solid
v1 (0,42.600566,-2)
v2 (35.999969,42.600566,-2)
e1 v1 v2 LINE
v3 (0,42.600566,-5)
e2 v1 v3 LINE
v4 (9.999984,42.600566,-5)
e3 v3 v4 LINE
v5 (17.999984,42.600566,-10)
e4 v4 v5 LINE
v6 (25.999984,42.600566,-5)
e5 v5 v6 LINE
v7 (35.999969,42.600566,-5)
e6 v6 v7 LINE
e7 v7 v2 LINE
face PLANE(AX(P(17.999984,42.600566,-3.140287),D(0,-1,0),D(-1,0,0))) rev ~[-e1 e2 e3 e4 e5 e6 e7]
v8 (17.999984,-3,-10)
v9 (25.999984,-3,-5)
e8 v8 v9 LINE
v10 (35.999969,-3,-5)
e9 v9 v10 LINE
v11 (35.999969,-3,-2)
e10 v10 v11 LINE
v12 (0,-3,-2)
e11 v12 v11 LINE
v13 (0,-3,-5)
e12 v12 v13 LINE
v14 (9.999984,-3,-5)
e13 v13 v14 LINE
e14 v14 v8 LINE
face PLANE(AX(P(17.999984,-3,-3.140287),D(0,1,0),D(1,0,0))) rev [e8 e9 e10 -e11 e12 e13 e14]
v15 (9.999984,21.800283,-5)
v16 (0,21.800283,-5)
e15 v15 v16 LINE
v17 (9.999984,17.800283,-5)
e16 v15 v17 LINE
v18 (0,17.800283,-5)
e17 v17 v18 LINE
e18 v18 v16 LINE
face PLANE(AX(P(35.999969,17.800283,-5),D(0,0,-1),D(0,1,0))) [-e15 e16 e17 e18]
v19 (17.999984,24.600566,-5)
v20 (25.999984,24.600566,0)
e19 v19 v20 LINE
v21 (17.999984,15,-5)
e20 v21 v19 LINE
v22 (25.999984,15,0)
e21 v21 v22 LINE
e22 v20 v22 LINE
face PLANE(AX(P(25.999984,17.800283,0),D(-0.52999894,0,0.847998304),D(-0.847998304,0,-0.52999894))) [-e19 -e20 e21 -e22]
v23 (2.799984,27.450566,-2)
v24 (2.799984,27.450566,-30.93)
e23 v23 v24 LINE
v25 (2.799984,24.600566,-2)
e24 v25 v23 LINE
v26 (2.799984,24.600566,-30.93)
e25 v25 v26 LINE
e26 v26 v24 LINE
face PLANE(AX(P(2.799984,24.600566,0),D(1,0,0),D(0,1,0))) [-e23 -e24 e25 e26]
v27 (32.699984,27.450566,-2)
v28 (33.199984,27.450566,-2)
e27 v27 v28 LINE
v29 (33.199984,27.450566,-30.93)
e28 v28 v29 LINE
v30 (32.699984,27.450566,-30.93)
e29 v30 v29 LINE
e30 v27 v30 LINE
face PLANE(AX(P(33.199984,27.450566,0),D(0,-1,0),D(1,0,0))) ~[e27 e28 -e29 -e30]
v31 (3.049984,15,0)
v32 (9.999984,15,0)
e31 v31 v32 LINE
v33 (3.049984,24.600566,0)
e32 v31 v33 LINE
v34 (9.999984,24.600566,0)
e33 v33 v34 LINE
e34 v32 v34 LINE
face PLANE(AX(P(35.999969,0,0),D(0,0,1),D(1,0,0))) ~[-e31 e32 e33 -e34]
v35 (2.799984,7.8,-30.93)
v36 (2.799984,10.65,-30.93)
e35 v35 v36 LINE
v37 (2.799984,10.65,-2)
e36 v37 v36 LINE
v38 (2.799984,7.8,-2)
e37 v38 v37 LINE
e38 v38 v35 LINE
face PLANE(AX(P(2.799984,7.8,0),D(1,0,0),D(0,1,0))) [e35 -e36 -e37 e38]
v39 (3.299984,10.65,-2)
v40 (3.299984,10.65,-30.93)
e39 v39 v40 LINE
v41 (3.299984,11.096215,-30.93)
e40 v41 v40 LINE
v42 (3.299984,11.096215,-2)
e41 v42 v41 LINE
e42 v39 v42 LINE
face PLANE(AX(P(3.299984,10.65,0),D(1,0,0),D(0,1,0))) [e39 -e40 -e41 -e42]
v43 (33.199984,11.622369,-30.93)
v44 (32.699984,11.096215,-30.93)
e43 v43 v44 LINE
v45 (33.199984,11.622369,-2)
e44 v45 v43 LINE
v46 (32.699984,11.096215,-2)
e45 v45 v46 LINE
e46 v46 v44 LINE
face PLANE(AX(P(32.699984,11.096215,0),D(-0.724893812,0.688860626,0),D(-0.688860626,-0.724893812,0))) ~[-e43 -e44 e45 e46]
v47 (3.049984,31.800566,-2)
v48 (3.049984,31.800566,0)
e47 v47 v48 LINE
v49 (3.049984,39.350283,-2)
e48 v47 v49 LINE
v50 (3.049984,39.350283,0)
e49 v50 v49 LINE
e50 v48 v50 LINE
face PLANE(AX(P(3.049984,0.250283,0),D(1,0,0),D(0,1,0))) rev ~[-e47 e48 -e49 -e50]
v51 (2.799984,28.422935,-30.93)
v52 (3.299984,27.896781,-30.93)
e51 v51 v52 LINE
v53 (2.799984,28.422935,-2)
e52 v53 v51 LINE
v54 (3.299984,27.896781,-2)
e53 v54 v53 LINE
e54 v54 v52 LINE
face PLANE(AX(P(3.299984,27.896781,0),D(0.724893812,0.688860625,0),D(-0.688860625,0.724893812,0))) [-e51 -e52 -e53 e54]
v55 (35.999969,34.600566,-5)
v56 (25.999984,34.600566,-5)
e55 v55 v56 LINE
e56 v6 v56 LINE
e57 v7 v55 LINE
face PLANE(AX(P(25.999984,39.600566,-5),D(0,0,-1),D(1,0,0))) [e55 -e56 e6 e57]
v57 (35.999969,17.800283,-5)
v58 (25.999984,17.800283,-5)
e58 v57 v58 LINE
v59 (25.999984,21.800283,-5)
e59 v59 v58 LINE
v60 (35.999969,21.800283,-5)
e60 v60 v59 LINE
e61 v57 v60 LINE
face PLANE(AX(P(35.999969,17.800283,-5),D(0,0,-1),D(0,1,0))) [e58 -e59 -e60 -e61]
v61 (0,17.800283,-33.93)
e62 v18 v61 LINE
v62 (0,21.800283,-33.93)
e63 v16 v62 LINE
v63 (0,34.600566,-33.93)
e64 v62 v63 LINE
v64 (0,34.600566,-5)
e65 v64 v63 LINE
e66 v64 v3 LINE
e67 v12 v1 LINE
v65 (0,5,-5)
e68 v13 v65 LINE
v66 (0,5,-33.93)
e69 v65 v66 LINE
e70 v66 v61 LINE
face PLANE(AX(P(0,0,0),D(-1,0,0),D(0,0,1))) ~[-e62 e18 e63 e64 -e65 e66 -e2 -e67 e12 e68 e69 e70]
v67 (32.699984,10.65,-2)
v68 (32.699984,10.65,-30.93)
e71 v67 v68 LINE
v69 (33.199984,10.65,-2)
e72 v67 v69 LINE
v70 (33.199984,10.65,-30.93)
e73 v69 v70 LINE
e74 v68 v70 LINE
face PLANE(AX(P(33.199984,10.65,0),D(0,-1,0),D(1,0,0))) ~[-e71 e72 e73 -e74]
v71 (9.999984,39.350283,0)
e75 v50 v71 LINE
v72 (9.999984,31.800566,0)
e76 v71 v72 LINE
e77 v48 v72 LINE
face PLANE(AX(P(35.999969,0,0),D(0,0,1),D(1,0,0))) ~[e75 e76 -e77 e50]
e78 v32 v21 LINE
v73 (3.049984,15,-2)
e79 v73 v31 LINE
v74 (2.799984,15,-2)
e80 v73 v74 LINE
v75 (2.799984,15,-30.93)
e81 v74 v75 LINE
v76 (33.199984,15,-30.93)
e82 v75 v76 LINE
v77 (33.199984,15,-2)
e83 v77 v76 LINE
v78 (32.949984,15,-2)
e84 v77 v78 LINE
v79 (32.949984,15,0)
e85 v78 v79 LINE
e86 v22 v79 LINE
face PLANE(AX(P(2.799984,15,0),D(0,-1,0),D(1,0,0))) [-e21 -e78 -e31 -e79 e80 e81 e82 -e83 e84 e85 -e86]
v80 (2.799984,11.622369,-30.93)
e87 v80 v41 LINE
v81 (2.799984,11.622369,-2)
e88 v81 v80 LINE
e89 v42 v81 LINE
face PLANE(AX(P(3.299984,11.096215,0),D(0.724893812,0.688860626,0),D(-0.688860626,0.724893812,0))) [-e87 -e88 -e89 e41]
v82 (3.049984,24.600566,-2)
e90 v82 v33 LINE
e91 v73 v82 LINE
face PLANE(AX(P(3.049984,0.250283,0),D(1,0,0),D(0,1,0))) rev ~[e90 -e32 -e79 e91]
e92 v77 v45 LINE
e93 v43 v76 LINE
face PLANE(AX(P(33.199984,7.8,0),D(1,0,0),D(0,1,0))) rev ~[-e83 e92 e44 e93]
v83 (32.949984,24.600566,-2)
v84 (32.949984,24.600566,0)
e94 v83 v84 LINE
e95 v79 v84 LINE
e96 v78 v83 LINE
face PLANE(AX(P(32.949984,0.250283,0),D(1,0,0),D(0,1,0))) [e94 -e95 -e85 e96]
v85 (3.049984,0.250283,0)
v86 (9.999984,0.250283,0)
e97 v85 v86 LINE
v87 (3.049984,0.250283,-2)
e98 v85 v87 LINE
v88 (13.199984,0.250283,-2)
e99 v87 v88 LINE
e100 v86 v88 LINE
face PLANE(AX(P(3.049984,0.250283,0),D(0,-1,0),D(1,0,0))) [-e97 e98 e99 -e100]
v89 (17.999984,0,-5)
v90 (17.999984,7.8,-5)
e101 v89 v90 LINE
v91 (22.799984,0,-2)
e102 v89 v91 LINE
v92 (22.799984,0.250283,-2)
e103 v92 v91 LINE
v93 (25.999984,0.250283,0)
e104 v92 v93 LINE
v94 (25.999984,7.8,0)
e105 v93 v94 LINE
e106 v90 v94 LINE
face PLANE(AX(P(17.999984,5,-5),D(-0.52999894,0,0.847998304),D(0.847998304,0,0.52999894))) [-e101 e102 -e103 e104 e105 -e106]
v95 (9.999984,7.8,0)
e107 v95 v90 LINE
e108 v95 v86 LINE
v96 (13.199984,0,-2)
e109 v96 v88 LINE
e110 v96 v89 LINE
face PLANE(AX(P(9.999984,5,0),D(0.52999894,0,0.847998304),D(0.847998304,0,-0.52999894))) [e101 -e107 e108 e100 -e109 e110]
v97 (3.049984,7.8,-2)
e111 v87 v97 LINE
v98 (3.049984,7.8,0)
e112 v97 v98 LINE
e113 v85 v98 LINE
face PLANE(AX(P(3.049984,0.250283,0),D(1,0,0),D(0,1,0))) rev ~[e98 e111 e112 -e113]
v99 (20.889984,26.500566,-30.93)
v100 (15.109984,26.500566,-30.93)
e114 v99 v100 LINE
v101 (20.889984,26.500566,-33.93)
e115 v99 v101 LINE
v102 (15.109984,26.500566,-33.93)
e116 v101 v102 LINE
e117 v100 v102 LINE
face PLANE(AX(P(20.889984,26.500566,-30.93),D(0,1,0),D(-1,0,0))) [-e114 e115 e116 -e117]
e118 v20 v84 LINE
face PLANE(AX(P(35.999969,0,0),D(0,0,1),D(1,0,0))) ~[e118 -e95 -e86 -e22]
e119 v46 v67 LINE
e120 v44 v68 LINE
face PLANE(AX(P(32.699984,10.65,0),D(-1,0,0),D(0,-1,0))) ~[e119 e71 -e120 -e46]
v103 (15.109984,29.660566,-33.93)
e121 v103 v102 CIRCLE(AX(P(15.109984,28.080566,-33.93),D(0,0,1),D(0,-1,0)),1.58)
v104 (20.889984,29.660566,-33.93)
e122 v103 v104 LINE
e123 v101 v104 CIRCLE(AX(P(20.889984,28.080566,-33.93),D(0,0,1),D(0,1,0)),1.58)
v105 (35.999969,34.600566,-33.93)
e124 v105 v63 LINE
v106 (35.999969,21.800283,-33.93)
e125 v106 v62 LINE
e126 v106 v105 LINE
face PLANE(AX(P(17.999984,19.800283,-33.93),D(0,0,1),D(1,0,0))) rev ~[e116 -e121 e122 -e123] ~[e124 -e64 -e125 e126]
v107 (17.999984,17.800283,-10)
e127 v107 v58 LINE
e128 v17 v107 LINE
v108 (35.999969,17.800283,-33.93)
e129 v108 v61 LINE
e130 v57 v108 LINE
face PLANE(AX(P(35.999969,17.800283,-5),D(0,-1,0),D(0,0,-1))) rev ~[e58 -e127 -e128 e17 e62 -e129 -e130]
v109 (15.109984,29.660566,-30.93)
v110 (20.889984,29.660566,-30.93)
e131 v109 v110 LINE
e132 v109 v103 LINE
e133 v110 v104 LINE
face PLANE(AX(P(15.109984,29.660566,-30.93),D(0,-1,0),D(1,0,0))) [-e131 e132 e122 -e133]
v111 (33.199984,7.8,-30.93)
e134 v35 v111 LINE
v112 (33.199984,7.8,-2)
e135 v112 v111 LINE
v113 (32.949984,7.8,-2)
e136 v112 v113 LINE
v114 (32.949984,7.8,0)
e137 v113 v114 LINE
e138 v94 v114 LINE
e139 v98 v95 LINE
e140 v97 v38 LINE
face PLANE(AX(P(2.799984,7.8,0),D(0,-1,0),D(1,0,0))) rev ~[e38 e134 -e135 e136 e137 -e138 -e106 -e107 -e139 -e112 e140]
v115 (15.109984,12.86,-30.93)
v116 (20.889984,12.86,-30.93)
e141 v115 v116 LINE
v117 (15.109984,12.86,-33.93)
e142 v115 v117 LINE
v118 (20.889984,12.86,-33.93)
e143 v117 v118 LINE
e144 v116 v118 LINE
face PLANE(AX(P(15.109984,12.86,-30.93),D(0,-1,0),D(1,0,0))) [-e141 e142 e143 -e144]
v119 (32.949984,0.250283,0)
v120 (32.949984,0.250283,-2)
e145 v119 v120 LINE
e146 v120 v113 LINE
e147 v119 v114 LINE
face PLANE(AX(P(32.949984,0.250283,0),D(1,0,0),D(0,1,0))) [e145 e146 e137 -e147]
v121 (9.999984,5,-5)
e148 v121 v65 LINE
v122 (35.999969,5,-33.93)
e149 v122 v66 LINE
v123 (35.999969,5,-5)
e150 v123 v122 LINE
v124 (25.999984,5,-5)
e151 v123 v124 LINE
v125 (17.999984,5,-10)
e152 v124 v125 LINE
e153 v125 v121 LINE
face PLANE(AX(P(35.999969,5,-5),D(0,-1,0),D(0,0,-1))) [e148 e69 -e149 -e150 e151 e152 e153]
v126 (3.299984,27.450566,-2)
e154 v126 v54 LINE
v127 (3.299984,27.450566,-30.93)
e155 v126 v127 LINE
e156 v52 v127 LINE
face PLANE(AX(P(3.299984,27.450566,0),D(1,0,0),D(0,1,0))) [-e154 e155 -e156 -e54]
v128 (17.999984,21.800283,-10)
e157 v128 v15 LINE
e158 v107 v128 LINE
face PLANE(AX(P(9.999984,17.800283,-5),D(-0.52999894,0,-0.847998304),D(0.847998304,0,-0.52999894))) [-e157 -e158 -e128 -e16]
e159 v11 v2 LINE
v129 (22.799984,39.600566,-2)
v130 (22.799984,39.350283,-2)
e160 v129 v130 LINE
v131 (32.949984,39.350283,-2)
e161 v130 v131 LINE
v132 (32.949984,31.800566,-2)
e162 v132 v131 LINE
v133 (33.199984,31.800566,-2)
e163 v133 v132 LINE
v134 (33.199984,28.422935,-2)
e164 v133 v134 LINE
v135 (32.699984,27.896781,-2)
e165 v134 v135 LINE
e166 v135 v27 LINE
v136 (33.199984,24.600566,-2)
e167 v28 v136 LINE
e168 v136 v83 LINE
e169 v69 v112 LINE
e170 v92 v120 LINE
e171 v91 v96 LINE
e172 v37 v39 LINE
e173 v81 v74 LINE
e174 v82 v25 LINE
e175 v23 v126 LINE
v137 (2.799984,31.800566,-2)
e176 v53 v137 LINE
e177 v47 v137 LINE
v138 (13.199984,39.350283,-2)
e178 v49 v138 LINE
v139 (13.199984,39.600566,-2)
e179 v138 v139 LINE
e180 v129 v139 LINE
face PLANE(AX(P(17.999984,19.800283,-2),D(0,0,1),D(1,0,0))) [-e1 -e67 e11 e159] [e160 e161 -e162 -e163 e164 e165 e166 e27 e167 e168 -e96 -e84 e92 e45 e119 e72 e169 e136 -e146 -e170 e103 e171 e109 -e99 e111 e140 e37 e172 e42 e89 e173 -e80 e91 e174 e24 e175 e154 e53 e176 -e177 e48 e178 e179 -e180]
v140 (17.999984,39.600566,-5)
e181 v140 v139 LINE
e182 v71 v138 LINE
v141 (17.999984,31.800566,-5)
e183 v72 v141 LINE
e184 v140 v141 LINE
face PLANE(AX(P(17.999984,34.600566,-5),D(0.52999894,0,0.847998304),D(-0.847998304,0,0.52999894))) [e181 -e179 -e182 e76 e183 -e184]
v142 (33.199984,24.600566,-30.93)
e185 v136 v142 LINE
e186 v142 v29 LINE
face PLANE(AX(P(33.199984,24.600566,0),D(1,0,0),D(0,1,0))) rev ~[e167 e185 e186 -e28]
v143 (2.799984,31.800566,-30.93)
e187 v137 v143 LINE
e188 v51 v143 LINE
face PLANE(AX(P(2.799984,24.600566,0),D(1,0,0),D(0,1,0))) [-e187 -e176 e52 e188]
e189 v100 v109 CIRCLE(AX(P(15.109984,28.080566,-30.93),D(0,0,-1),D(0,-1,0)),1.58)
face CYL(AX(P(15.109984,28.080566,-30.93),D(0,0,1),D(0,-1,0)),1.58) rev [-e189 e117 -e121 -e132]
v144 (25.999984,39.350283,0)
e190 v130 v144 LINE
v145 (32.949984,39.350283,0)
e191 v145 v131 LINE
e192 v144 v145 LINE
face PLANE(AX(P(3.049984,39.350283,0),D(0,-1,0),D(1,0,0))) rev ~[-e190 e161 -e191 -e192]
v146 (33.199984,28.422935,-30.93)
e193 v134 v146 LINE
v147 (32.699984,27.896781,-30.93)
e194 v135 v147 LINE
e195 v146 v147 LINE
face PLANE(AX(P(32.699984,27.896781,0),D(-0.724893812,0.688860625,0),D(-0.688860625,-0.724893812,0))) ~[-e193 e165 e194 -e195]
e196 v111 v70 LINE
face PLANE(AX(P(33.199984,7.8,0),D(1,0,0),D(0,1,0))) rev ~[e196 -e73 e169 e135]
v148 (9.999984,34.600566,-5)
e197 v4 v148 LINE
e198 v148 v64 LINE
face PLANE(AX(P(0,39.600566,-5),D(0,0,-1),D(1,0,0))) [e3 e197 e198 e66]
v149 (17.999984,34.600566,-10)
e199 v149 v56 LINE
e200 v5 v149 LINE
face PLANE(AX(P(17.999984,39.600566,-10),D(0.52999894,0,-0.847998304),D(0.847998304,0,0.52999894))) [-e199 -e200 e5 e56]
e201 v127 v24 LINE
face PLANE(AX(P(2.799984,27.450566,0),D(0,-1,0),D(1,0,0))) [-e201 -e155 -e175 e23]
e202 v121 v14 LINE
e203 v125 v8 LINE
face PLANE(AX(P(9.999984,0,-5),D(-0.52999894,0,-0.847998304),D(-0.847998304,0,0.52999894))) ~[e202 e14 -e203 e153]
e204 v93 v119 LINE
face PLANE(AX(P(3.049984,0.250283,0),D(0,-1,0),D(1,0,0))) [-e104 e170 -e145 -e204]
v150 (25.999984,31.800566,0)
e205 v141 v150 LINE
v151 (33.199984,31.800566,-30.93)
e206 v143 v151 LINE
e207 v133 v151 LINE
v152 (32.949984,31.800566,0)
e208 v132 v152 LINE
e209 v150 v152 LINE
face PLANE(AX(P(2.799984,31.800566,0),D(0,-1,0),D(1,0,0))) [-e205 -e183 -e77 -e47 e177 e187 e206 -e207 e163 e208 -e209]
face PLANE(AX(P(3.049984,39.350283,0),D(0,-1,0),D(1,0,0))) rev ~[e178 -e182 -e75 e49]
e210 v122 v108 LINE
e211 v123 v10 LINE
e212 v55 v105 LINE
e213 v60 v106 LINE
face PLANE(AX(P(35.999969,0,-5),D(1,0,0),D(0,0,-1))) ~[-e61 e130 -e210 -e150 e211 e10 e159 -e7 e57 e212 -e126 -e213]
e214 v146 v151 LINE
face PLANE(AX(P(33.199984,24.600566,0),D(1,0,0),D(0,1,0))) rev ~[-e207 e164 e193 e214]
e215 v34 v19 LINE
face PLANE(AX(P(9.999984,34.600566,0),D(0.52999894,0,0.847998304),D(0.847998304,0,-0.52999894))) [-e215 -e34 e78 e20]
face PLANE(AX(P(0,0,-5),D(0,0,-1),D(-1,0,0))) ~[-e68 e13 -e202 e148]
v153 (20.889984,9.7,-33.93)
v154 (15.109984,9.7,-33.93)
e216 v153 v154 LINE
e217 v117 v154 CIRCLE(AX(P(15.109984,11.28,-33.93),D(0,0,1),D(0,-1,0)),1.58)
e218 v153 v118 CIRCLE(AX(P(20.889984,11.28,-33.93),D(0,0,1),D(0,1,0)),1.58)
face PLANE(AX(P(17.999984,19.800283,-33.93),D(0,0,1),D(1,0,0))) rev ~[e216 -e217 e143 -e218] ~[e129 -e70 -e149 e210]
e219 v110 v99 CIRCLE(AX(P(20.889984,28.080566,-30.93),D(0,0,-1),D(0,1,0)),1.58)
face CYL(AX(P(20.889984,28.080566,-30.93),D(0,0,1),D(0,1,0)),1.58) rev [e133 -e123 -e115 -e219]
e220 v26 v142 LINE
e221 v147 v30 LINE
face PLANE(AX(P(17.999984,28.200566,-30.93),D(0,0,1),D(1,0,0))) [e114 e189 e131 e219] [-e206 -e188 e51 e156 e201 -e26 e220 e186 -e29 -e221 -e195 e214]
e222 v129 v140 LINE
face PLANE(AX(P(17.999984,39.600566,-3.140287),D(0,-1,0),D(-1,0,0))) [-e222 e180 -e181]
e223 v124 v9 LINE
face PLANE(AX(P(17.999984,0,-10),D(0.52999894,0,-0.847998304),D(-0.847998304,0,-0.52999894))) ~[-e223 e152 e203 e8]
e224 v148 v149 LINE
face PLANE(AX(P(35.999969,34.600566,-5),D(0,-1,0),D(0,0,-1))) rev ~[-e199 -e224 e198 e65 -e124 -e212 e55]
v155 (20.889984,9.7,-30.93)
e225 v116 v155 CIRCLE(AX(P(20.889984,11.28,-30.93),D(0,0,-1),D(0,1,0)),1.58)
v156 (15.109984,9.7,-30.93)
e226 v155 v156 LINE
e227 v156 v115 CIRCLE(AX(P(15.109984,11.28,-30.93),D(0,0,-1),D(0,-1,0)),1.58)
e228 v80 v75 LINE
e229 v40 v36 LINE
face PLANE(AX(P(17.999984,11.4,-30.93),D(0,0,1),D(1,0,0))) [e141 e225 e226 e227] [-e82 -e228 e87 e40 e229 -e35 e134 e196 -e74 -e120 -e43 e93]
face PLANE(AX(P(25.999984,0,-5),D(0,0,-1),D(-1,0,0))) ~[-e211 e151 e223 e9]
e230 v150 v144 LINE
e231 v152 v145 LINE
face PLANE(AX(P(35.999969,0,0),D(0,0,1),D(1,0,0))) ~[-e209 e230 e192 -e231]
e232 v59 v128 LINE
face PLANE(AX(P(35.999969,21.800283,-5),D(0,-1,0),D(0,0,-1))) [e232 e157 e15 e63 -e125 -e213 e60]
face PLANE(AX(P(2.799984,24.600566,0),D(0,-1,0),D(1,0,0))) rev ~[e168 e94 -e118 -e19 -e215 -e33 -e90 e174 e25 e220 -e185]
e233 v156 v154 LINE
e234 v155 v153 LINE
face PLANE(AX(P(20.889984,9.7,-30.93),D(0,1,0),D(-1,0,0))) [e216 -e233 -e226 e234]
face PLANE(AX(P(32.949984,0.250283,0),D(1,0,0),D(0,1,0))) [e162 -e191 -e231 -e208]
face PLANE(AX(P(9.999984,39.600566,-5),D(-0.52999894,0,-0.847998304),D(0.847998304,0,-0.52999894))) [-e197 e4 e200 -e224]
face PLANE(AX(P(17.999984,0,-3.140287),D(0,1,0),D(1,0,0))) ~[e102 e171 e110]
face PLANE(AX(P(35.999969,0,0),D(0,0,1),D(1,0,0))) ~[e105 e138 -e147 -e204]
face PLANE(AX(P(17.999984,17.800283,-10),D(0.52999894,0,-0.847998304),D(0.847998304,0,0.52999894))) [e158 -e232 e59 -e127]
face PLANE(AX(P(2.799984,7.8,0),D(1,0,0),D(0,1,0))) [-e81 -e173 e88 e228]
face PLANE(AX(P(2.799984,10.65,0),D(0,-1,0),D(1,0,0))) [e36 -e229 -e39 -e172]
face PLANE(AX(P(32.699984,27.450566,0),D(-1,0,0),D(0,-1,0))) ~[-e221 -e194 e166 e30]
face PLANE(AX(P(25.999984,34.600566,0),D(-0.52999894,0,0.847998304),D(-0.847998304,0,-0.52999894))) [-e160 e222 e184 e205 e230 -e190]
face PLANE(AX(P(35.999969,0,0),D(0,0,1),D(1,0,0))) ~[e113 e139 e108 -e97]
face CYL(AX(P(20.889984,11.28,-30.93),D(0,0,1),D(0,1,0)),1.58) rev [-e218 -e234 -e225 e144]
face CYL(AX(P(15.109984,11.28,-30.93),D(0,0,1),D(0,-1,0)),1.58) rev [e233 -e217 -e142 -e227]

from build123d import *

# Parameters (mm, degrees)
SKETCH1_W           = 35.999968648
SKETCH1_H           = 39.60056603
BOSS_EXTRUDE1_DEPTH = 33.93
SKETCH2_W           = 28.93
SKETCH2_H           = 5
SKETCH2_H_2         = 4
CUT_EXTRUDE1_DEPTH  = 64.367558518
SKETCH3_W           = 16
SKETCH3_H           = 5
SKETCH3_H_2         = 4
CUT_EXTRUDE2_DEPTH  = 64.367558518
CUT_EXTRUDE3_DEPTH  = 61.369212453
SKETCH5_W           = 30.4
SKETCH5_H           = 7.2
CUT_EXTRUDE4_DEPTH  = 30.93
CUT_EXTRUDE5_DEPTH  = 62.813165851
BOSS_EXTRUDE2_REACH = 65.368
BOSS_EXTRUDE3_DEPTH = 5
BOSS_EXTRUDE4_REACH = 56.06
BOSS_EXTRUDE5_DEPTH = 5
BOSS_EXTRUDE6_DEPTH = 3
SKETCH12_W          = 35.999968648
SKETCH12_H          = 45.60056603
CUT_EXTRUDE6_DEPTH  = 2
SKETCH13_W          = 30.4
SKETCH13_H          = 39.6
SKETCH13_W_2        = 29.9
SKETCH13_H_2        = 39.1
CUT_EXTRUDE7_DEPTH  = 2


with BuildPart() as part:
    # Sketch1 → Boss-Extrude1 (new body)
    with BuildSketch(Plane.XY):
        with Locations((17.999984324, 19.800283015)):
            Rectangle(SKETCH1_W, SKETCH1_H)
    extrude(amount=-BOSS_EXTRUDE1_DEPTH)

    # Sketch2 → Cut-Extrude1 (cut, through all)
    with BuildSketch(Plane(origin=(35.999968648, 0, 0), x_dir=(0, 0, -1), z_dir=(1, 0, 0))):
        with Locations((19.465, 37.10056603)):
            Rectangle(SKETCH2_W, SKETCH2_H)
        with Locations((19.465, 19.800283015)):
            Rectangle(SKETCH2_W, SKETCH2_H_2)
        with Locations((19.465, 2.5)):
            Rectangle(SKETCH2_W, SKETCH2_H)
    extrude(amount=-CUT_EXTRUDE1_DEPTH, mode=Mode.SUBTRACT)

    # Sketch3 → Cut-Extrude2 (cut, through all)
    with BuildSketch(Plane.XY):
        with Locations((17.999984324, 37.10056603)):
            Rectangle(SKETCH3_W, SKETCH3_H)
        with Locations((17.999984324, 19.800283015)):
            Rectangle(SKETCH3_W, SKETCH3_H_2)
        with Locations((17.999984324, 2.5)):
            Rectangle(SKETCH3_W, SKETCH3_H)
    extrude(amount=-CUT_EXTRUDE2_DEPTH, mode=Mode.SUBTRACT)

    # Sketch4 → Cut-Extrude3 (cut, through all)
    with BuildSketch(Plane(origin=(0, 34.60056603, 0), x_dir=(1, 0, 0), z_dir=(0, 1, 0))):
        Polygon((9.999984324, 0), (17.999984324, 5), (25.999984324, 0), align=None)
    extrude(amount=-CUT_EXTRUDE3_DEPTH, mode=Mode.SUBTRACT)

    # Sketch5 → Cut-Extrude4 (cut)
    with BuildSketch(Plane.XY):
        with Locations((17.999984324, 11.4)):
            Rectangle(SKETCH5_W, SKETCH5_H)
        with Locations((17.999984324, 28.20056603)):
            Rectangle(SKETCH5_W, SKETCH5_H)
    extrude(amount=-CUT_EXTRUDE4_DEPTH, mode=Mode.SUBTRACT)

    # Sketch6 → Cut-Extrude5 (cut, through all)
    with BuildSketch(Plane.XY.offset(-30.93)):
        with BuildLine():
            Line((15.109984324, 29.66056603), (20.889984324, 29.66056603))
            ThreePointArc((20.889984324, 29.66056603), (22.469984324, 28.08056603), (20.889984324, 26.50056603))
            Line((20.889984324, 26.50056603), (15.109984324, 26.50056603))
            ThreePointArc((15.109984324, 26.50056603), (13.529984324, 28.08056603), (15.109984324, 29.66056603))
        make_face()
        with BuildLine():
            Line((15.109984324, 12.86), (20.889984324, 12.86))
            ThreePointArc((20.889984324, 12.86), (22.469984324, 11.28), (20.889984324, 9.7))
            Line((20.889984324, 9.7), (15.109984324, 9.7))
            ThreePointArc((15.109984324, 9.7), (13.529984324, 11.28), (15.109984324, 12.86))
        make_face()
    extrude(amount=-CUT_EXTRUDE5_DEPTH, mode=Mode.SUBTRACT)

    # Sketch7 → Boss-Extrude2 (add, up to next)
    with BuildSketch(Plane.XY, mode=Mode.PRIVATE) as boss_extrude2_sk1:
        Polygon((2.799984324, 28.422935376), (2.799984324, 27.45056603), (3.299984324, 27.45056603), (3.299984324, 27.896781183), align=None)
    boss_extrude2_tool1 = extrude(boss_extrude2_sk1.sketch, amount=-BOSS_EXTRUDE2_REACH, mode=Mode.PRIVATE) - part.part
    # Sketch7 → Boss-Extrude2 (add, up to next)
    with BuildSketch(Plane.XY, mode=Mode.PRIVATE) as boss_extrude2_sk2:
        Polygon((2.799984324, 11.622369346), (2.799984324, 10.65), (3.299984324, 10.65), (3.299984324, 11.096215154), align=None)
    boss_extrude2_tool2 = extrude(boss_extrude2_sk2.sketch, amount=-BOSS_EXTRUDE2_REACH, mode=Mode.PRIVATE) - part.part
    boss_extrude2_1 = boss_extrude2_tool1.solids().sort_by_distance((3.019076, 27.821475, 0))[0]
    add(boss_extrude2_1)
    boss_extrude2_2 = boss_extrude2_tool2.solids().sort_by_distance((3.019076, 11.020909, 0))[0]
    add(boss_extrude2_2)
    boss_extrude2 = boss_extrude2_1 + boss_extrude2_2  # Boss-Extrude2 as one shape, for the pattern or mirror that repeats it

    # Mirror1: Boss-Extrude2 across plane
    add(boss_extrude2.mirror(Plane(origin=(17.999984324, 0, 0), x_dir=(0, 0, 1), z_dir=(1, 0, 0))))

    # Sketch8 → Boss-Extrude3 (add)
    with BuildSketch(Plane(origin=(0, 34.60056603, 0), x_dir=(1, 0, 0), z_dir=(0, 1, 0))):
        Polygon((9.999984324, 5), (17.999984324, 10), (25.999984324, 5), (25.999984324, 0), (17.999984324, 5), (9.999984324, 0), align=None)
    extrude(amount=BOSS_EXTRUDE3_DEPTH)

    # Sketch9 → Boss-Extrude4 (add, up to next)
    with BuildSketch(Plane(origin=(0, 17.800283015, 0), x_dir=(1, 0, 0), z_dir=(0, 1, 0)), mode=Mode.PRIVATE) as boss_extrude4_sk1:
        Polygon((9.999984324, 5), (17.999984324, 10), (25.999984324, 5), (25.999984324, 0), (17.999984324, 5), (9.999984324, 0), align=None)
    boss_extrude4_tool1 = extrude(boss_extrude4_sk1.sketch, amount=BOSS_EXTRUDE4_REACH, mode=Mode.PRIVATE) - part.part
    add(boss_extrude4_tool1.solids().sort_by_distance((14.099984, 17.800283, -7.34))[0])

    # Sketch10 → Boss-Extrude5 (add)
    with BuildSketch(Plane.XZ.offset(-5)):
        Polygon((9.999984324, 0), (17.999984324, -5), (25.999984324, 0), (25.999984324, -5), (17.999984324, -10), (9.999984324, -5), align=None)
    extrude(amount=BOSS_EXTRUDE5_DEPTH)

    # Sketch11 → Boss-Extrude6 (add)
    with BuildSketch(Plane(origin=(0, 39.60056603, 0), x_dir=(1, 0, 0), z_dir=(0, 1, 0))):
        Polygon((0, 5), (9.999984324, 5), (17.999984324, 10), (25.999984324, 5), (35.999968648, 5), (35.999968648, 0), (0, 0), align=None)
    boss_extrude6 = extrude(amount=BOSS_EXTRUDE6_DEPTH)

    # Mirror2: Boss-Extrude6 across plane
    add(boss_extrude6.mirror(Plane.ZX.offset(19.800283015)))

    # Sketch12 → Cut-Extrude6 (cut)
    with BuildSketch(Plane.XY):
        with Locations((17.999984324, 19.800283015)):
            Rectangle(SKETCH12_W, SKETCH12_H)
        Polygon((2.799984324, 39.600283015), (33.199984324, 39.600283015), (33.199984324, 28.422935376), (32.699984324, 27.896781183), (32.699984324, 27.45056603), (33.199984324, 27.45056603), (33.199984324, 11.622369346), (32.699984324, 11.096215154), (32.699984324, 10.65), (33.199984324, 10.65), (33.199984324, 0.000283015), (2.799984324, 0.000283015), (2.799984324, 10.65), (3.299984324, 10.65), (3.299984324, 11.096215154), (2.799984324, 11.622369346), (2.799984324, 27.45056603), (3.299984324, 27.45056603), (3.299984324, 27.896781183), (2.799984324, 28.422935376), align=None, mode=Mode.SUBTRACT)
    extrude(amount=-CUT_EXTRUDE6_DEPTH, mode=Mode.SUBTRACT)

    # Sketch13 → Cut-Extrude7 (cut)
    with BuildSketch(Plane.XY):
        with Locations((17.999984324, 19.800283015)):
            Rectangle(SKETCH13_W, SKETCH13_H)
        with Locations((17.999984324, 19.800283015)):
            Rectangle(SKETCH13_W_2, SKETCH13_H_2, mode=Mode.SUBTRACT)
    extrude(amount=-CUT_EXTRUDE7_DEPTH, mode=Mode.SUBTRACT)


solid = part.part
